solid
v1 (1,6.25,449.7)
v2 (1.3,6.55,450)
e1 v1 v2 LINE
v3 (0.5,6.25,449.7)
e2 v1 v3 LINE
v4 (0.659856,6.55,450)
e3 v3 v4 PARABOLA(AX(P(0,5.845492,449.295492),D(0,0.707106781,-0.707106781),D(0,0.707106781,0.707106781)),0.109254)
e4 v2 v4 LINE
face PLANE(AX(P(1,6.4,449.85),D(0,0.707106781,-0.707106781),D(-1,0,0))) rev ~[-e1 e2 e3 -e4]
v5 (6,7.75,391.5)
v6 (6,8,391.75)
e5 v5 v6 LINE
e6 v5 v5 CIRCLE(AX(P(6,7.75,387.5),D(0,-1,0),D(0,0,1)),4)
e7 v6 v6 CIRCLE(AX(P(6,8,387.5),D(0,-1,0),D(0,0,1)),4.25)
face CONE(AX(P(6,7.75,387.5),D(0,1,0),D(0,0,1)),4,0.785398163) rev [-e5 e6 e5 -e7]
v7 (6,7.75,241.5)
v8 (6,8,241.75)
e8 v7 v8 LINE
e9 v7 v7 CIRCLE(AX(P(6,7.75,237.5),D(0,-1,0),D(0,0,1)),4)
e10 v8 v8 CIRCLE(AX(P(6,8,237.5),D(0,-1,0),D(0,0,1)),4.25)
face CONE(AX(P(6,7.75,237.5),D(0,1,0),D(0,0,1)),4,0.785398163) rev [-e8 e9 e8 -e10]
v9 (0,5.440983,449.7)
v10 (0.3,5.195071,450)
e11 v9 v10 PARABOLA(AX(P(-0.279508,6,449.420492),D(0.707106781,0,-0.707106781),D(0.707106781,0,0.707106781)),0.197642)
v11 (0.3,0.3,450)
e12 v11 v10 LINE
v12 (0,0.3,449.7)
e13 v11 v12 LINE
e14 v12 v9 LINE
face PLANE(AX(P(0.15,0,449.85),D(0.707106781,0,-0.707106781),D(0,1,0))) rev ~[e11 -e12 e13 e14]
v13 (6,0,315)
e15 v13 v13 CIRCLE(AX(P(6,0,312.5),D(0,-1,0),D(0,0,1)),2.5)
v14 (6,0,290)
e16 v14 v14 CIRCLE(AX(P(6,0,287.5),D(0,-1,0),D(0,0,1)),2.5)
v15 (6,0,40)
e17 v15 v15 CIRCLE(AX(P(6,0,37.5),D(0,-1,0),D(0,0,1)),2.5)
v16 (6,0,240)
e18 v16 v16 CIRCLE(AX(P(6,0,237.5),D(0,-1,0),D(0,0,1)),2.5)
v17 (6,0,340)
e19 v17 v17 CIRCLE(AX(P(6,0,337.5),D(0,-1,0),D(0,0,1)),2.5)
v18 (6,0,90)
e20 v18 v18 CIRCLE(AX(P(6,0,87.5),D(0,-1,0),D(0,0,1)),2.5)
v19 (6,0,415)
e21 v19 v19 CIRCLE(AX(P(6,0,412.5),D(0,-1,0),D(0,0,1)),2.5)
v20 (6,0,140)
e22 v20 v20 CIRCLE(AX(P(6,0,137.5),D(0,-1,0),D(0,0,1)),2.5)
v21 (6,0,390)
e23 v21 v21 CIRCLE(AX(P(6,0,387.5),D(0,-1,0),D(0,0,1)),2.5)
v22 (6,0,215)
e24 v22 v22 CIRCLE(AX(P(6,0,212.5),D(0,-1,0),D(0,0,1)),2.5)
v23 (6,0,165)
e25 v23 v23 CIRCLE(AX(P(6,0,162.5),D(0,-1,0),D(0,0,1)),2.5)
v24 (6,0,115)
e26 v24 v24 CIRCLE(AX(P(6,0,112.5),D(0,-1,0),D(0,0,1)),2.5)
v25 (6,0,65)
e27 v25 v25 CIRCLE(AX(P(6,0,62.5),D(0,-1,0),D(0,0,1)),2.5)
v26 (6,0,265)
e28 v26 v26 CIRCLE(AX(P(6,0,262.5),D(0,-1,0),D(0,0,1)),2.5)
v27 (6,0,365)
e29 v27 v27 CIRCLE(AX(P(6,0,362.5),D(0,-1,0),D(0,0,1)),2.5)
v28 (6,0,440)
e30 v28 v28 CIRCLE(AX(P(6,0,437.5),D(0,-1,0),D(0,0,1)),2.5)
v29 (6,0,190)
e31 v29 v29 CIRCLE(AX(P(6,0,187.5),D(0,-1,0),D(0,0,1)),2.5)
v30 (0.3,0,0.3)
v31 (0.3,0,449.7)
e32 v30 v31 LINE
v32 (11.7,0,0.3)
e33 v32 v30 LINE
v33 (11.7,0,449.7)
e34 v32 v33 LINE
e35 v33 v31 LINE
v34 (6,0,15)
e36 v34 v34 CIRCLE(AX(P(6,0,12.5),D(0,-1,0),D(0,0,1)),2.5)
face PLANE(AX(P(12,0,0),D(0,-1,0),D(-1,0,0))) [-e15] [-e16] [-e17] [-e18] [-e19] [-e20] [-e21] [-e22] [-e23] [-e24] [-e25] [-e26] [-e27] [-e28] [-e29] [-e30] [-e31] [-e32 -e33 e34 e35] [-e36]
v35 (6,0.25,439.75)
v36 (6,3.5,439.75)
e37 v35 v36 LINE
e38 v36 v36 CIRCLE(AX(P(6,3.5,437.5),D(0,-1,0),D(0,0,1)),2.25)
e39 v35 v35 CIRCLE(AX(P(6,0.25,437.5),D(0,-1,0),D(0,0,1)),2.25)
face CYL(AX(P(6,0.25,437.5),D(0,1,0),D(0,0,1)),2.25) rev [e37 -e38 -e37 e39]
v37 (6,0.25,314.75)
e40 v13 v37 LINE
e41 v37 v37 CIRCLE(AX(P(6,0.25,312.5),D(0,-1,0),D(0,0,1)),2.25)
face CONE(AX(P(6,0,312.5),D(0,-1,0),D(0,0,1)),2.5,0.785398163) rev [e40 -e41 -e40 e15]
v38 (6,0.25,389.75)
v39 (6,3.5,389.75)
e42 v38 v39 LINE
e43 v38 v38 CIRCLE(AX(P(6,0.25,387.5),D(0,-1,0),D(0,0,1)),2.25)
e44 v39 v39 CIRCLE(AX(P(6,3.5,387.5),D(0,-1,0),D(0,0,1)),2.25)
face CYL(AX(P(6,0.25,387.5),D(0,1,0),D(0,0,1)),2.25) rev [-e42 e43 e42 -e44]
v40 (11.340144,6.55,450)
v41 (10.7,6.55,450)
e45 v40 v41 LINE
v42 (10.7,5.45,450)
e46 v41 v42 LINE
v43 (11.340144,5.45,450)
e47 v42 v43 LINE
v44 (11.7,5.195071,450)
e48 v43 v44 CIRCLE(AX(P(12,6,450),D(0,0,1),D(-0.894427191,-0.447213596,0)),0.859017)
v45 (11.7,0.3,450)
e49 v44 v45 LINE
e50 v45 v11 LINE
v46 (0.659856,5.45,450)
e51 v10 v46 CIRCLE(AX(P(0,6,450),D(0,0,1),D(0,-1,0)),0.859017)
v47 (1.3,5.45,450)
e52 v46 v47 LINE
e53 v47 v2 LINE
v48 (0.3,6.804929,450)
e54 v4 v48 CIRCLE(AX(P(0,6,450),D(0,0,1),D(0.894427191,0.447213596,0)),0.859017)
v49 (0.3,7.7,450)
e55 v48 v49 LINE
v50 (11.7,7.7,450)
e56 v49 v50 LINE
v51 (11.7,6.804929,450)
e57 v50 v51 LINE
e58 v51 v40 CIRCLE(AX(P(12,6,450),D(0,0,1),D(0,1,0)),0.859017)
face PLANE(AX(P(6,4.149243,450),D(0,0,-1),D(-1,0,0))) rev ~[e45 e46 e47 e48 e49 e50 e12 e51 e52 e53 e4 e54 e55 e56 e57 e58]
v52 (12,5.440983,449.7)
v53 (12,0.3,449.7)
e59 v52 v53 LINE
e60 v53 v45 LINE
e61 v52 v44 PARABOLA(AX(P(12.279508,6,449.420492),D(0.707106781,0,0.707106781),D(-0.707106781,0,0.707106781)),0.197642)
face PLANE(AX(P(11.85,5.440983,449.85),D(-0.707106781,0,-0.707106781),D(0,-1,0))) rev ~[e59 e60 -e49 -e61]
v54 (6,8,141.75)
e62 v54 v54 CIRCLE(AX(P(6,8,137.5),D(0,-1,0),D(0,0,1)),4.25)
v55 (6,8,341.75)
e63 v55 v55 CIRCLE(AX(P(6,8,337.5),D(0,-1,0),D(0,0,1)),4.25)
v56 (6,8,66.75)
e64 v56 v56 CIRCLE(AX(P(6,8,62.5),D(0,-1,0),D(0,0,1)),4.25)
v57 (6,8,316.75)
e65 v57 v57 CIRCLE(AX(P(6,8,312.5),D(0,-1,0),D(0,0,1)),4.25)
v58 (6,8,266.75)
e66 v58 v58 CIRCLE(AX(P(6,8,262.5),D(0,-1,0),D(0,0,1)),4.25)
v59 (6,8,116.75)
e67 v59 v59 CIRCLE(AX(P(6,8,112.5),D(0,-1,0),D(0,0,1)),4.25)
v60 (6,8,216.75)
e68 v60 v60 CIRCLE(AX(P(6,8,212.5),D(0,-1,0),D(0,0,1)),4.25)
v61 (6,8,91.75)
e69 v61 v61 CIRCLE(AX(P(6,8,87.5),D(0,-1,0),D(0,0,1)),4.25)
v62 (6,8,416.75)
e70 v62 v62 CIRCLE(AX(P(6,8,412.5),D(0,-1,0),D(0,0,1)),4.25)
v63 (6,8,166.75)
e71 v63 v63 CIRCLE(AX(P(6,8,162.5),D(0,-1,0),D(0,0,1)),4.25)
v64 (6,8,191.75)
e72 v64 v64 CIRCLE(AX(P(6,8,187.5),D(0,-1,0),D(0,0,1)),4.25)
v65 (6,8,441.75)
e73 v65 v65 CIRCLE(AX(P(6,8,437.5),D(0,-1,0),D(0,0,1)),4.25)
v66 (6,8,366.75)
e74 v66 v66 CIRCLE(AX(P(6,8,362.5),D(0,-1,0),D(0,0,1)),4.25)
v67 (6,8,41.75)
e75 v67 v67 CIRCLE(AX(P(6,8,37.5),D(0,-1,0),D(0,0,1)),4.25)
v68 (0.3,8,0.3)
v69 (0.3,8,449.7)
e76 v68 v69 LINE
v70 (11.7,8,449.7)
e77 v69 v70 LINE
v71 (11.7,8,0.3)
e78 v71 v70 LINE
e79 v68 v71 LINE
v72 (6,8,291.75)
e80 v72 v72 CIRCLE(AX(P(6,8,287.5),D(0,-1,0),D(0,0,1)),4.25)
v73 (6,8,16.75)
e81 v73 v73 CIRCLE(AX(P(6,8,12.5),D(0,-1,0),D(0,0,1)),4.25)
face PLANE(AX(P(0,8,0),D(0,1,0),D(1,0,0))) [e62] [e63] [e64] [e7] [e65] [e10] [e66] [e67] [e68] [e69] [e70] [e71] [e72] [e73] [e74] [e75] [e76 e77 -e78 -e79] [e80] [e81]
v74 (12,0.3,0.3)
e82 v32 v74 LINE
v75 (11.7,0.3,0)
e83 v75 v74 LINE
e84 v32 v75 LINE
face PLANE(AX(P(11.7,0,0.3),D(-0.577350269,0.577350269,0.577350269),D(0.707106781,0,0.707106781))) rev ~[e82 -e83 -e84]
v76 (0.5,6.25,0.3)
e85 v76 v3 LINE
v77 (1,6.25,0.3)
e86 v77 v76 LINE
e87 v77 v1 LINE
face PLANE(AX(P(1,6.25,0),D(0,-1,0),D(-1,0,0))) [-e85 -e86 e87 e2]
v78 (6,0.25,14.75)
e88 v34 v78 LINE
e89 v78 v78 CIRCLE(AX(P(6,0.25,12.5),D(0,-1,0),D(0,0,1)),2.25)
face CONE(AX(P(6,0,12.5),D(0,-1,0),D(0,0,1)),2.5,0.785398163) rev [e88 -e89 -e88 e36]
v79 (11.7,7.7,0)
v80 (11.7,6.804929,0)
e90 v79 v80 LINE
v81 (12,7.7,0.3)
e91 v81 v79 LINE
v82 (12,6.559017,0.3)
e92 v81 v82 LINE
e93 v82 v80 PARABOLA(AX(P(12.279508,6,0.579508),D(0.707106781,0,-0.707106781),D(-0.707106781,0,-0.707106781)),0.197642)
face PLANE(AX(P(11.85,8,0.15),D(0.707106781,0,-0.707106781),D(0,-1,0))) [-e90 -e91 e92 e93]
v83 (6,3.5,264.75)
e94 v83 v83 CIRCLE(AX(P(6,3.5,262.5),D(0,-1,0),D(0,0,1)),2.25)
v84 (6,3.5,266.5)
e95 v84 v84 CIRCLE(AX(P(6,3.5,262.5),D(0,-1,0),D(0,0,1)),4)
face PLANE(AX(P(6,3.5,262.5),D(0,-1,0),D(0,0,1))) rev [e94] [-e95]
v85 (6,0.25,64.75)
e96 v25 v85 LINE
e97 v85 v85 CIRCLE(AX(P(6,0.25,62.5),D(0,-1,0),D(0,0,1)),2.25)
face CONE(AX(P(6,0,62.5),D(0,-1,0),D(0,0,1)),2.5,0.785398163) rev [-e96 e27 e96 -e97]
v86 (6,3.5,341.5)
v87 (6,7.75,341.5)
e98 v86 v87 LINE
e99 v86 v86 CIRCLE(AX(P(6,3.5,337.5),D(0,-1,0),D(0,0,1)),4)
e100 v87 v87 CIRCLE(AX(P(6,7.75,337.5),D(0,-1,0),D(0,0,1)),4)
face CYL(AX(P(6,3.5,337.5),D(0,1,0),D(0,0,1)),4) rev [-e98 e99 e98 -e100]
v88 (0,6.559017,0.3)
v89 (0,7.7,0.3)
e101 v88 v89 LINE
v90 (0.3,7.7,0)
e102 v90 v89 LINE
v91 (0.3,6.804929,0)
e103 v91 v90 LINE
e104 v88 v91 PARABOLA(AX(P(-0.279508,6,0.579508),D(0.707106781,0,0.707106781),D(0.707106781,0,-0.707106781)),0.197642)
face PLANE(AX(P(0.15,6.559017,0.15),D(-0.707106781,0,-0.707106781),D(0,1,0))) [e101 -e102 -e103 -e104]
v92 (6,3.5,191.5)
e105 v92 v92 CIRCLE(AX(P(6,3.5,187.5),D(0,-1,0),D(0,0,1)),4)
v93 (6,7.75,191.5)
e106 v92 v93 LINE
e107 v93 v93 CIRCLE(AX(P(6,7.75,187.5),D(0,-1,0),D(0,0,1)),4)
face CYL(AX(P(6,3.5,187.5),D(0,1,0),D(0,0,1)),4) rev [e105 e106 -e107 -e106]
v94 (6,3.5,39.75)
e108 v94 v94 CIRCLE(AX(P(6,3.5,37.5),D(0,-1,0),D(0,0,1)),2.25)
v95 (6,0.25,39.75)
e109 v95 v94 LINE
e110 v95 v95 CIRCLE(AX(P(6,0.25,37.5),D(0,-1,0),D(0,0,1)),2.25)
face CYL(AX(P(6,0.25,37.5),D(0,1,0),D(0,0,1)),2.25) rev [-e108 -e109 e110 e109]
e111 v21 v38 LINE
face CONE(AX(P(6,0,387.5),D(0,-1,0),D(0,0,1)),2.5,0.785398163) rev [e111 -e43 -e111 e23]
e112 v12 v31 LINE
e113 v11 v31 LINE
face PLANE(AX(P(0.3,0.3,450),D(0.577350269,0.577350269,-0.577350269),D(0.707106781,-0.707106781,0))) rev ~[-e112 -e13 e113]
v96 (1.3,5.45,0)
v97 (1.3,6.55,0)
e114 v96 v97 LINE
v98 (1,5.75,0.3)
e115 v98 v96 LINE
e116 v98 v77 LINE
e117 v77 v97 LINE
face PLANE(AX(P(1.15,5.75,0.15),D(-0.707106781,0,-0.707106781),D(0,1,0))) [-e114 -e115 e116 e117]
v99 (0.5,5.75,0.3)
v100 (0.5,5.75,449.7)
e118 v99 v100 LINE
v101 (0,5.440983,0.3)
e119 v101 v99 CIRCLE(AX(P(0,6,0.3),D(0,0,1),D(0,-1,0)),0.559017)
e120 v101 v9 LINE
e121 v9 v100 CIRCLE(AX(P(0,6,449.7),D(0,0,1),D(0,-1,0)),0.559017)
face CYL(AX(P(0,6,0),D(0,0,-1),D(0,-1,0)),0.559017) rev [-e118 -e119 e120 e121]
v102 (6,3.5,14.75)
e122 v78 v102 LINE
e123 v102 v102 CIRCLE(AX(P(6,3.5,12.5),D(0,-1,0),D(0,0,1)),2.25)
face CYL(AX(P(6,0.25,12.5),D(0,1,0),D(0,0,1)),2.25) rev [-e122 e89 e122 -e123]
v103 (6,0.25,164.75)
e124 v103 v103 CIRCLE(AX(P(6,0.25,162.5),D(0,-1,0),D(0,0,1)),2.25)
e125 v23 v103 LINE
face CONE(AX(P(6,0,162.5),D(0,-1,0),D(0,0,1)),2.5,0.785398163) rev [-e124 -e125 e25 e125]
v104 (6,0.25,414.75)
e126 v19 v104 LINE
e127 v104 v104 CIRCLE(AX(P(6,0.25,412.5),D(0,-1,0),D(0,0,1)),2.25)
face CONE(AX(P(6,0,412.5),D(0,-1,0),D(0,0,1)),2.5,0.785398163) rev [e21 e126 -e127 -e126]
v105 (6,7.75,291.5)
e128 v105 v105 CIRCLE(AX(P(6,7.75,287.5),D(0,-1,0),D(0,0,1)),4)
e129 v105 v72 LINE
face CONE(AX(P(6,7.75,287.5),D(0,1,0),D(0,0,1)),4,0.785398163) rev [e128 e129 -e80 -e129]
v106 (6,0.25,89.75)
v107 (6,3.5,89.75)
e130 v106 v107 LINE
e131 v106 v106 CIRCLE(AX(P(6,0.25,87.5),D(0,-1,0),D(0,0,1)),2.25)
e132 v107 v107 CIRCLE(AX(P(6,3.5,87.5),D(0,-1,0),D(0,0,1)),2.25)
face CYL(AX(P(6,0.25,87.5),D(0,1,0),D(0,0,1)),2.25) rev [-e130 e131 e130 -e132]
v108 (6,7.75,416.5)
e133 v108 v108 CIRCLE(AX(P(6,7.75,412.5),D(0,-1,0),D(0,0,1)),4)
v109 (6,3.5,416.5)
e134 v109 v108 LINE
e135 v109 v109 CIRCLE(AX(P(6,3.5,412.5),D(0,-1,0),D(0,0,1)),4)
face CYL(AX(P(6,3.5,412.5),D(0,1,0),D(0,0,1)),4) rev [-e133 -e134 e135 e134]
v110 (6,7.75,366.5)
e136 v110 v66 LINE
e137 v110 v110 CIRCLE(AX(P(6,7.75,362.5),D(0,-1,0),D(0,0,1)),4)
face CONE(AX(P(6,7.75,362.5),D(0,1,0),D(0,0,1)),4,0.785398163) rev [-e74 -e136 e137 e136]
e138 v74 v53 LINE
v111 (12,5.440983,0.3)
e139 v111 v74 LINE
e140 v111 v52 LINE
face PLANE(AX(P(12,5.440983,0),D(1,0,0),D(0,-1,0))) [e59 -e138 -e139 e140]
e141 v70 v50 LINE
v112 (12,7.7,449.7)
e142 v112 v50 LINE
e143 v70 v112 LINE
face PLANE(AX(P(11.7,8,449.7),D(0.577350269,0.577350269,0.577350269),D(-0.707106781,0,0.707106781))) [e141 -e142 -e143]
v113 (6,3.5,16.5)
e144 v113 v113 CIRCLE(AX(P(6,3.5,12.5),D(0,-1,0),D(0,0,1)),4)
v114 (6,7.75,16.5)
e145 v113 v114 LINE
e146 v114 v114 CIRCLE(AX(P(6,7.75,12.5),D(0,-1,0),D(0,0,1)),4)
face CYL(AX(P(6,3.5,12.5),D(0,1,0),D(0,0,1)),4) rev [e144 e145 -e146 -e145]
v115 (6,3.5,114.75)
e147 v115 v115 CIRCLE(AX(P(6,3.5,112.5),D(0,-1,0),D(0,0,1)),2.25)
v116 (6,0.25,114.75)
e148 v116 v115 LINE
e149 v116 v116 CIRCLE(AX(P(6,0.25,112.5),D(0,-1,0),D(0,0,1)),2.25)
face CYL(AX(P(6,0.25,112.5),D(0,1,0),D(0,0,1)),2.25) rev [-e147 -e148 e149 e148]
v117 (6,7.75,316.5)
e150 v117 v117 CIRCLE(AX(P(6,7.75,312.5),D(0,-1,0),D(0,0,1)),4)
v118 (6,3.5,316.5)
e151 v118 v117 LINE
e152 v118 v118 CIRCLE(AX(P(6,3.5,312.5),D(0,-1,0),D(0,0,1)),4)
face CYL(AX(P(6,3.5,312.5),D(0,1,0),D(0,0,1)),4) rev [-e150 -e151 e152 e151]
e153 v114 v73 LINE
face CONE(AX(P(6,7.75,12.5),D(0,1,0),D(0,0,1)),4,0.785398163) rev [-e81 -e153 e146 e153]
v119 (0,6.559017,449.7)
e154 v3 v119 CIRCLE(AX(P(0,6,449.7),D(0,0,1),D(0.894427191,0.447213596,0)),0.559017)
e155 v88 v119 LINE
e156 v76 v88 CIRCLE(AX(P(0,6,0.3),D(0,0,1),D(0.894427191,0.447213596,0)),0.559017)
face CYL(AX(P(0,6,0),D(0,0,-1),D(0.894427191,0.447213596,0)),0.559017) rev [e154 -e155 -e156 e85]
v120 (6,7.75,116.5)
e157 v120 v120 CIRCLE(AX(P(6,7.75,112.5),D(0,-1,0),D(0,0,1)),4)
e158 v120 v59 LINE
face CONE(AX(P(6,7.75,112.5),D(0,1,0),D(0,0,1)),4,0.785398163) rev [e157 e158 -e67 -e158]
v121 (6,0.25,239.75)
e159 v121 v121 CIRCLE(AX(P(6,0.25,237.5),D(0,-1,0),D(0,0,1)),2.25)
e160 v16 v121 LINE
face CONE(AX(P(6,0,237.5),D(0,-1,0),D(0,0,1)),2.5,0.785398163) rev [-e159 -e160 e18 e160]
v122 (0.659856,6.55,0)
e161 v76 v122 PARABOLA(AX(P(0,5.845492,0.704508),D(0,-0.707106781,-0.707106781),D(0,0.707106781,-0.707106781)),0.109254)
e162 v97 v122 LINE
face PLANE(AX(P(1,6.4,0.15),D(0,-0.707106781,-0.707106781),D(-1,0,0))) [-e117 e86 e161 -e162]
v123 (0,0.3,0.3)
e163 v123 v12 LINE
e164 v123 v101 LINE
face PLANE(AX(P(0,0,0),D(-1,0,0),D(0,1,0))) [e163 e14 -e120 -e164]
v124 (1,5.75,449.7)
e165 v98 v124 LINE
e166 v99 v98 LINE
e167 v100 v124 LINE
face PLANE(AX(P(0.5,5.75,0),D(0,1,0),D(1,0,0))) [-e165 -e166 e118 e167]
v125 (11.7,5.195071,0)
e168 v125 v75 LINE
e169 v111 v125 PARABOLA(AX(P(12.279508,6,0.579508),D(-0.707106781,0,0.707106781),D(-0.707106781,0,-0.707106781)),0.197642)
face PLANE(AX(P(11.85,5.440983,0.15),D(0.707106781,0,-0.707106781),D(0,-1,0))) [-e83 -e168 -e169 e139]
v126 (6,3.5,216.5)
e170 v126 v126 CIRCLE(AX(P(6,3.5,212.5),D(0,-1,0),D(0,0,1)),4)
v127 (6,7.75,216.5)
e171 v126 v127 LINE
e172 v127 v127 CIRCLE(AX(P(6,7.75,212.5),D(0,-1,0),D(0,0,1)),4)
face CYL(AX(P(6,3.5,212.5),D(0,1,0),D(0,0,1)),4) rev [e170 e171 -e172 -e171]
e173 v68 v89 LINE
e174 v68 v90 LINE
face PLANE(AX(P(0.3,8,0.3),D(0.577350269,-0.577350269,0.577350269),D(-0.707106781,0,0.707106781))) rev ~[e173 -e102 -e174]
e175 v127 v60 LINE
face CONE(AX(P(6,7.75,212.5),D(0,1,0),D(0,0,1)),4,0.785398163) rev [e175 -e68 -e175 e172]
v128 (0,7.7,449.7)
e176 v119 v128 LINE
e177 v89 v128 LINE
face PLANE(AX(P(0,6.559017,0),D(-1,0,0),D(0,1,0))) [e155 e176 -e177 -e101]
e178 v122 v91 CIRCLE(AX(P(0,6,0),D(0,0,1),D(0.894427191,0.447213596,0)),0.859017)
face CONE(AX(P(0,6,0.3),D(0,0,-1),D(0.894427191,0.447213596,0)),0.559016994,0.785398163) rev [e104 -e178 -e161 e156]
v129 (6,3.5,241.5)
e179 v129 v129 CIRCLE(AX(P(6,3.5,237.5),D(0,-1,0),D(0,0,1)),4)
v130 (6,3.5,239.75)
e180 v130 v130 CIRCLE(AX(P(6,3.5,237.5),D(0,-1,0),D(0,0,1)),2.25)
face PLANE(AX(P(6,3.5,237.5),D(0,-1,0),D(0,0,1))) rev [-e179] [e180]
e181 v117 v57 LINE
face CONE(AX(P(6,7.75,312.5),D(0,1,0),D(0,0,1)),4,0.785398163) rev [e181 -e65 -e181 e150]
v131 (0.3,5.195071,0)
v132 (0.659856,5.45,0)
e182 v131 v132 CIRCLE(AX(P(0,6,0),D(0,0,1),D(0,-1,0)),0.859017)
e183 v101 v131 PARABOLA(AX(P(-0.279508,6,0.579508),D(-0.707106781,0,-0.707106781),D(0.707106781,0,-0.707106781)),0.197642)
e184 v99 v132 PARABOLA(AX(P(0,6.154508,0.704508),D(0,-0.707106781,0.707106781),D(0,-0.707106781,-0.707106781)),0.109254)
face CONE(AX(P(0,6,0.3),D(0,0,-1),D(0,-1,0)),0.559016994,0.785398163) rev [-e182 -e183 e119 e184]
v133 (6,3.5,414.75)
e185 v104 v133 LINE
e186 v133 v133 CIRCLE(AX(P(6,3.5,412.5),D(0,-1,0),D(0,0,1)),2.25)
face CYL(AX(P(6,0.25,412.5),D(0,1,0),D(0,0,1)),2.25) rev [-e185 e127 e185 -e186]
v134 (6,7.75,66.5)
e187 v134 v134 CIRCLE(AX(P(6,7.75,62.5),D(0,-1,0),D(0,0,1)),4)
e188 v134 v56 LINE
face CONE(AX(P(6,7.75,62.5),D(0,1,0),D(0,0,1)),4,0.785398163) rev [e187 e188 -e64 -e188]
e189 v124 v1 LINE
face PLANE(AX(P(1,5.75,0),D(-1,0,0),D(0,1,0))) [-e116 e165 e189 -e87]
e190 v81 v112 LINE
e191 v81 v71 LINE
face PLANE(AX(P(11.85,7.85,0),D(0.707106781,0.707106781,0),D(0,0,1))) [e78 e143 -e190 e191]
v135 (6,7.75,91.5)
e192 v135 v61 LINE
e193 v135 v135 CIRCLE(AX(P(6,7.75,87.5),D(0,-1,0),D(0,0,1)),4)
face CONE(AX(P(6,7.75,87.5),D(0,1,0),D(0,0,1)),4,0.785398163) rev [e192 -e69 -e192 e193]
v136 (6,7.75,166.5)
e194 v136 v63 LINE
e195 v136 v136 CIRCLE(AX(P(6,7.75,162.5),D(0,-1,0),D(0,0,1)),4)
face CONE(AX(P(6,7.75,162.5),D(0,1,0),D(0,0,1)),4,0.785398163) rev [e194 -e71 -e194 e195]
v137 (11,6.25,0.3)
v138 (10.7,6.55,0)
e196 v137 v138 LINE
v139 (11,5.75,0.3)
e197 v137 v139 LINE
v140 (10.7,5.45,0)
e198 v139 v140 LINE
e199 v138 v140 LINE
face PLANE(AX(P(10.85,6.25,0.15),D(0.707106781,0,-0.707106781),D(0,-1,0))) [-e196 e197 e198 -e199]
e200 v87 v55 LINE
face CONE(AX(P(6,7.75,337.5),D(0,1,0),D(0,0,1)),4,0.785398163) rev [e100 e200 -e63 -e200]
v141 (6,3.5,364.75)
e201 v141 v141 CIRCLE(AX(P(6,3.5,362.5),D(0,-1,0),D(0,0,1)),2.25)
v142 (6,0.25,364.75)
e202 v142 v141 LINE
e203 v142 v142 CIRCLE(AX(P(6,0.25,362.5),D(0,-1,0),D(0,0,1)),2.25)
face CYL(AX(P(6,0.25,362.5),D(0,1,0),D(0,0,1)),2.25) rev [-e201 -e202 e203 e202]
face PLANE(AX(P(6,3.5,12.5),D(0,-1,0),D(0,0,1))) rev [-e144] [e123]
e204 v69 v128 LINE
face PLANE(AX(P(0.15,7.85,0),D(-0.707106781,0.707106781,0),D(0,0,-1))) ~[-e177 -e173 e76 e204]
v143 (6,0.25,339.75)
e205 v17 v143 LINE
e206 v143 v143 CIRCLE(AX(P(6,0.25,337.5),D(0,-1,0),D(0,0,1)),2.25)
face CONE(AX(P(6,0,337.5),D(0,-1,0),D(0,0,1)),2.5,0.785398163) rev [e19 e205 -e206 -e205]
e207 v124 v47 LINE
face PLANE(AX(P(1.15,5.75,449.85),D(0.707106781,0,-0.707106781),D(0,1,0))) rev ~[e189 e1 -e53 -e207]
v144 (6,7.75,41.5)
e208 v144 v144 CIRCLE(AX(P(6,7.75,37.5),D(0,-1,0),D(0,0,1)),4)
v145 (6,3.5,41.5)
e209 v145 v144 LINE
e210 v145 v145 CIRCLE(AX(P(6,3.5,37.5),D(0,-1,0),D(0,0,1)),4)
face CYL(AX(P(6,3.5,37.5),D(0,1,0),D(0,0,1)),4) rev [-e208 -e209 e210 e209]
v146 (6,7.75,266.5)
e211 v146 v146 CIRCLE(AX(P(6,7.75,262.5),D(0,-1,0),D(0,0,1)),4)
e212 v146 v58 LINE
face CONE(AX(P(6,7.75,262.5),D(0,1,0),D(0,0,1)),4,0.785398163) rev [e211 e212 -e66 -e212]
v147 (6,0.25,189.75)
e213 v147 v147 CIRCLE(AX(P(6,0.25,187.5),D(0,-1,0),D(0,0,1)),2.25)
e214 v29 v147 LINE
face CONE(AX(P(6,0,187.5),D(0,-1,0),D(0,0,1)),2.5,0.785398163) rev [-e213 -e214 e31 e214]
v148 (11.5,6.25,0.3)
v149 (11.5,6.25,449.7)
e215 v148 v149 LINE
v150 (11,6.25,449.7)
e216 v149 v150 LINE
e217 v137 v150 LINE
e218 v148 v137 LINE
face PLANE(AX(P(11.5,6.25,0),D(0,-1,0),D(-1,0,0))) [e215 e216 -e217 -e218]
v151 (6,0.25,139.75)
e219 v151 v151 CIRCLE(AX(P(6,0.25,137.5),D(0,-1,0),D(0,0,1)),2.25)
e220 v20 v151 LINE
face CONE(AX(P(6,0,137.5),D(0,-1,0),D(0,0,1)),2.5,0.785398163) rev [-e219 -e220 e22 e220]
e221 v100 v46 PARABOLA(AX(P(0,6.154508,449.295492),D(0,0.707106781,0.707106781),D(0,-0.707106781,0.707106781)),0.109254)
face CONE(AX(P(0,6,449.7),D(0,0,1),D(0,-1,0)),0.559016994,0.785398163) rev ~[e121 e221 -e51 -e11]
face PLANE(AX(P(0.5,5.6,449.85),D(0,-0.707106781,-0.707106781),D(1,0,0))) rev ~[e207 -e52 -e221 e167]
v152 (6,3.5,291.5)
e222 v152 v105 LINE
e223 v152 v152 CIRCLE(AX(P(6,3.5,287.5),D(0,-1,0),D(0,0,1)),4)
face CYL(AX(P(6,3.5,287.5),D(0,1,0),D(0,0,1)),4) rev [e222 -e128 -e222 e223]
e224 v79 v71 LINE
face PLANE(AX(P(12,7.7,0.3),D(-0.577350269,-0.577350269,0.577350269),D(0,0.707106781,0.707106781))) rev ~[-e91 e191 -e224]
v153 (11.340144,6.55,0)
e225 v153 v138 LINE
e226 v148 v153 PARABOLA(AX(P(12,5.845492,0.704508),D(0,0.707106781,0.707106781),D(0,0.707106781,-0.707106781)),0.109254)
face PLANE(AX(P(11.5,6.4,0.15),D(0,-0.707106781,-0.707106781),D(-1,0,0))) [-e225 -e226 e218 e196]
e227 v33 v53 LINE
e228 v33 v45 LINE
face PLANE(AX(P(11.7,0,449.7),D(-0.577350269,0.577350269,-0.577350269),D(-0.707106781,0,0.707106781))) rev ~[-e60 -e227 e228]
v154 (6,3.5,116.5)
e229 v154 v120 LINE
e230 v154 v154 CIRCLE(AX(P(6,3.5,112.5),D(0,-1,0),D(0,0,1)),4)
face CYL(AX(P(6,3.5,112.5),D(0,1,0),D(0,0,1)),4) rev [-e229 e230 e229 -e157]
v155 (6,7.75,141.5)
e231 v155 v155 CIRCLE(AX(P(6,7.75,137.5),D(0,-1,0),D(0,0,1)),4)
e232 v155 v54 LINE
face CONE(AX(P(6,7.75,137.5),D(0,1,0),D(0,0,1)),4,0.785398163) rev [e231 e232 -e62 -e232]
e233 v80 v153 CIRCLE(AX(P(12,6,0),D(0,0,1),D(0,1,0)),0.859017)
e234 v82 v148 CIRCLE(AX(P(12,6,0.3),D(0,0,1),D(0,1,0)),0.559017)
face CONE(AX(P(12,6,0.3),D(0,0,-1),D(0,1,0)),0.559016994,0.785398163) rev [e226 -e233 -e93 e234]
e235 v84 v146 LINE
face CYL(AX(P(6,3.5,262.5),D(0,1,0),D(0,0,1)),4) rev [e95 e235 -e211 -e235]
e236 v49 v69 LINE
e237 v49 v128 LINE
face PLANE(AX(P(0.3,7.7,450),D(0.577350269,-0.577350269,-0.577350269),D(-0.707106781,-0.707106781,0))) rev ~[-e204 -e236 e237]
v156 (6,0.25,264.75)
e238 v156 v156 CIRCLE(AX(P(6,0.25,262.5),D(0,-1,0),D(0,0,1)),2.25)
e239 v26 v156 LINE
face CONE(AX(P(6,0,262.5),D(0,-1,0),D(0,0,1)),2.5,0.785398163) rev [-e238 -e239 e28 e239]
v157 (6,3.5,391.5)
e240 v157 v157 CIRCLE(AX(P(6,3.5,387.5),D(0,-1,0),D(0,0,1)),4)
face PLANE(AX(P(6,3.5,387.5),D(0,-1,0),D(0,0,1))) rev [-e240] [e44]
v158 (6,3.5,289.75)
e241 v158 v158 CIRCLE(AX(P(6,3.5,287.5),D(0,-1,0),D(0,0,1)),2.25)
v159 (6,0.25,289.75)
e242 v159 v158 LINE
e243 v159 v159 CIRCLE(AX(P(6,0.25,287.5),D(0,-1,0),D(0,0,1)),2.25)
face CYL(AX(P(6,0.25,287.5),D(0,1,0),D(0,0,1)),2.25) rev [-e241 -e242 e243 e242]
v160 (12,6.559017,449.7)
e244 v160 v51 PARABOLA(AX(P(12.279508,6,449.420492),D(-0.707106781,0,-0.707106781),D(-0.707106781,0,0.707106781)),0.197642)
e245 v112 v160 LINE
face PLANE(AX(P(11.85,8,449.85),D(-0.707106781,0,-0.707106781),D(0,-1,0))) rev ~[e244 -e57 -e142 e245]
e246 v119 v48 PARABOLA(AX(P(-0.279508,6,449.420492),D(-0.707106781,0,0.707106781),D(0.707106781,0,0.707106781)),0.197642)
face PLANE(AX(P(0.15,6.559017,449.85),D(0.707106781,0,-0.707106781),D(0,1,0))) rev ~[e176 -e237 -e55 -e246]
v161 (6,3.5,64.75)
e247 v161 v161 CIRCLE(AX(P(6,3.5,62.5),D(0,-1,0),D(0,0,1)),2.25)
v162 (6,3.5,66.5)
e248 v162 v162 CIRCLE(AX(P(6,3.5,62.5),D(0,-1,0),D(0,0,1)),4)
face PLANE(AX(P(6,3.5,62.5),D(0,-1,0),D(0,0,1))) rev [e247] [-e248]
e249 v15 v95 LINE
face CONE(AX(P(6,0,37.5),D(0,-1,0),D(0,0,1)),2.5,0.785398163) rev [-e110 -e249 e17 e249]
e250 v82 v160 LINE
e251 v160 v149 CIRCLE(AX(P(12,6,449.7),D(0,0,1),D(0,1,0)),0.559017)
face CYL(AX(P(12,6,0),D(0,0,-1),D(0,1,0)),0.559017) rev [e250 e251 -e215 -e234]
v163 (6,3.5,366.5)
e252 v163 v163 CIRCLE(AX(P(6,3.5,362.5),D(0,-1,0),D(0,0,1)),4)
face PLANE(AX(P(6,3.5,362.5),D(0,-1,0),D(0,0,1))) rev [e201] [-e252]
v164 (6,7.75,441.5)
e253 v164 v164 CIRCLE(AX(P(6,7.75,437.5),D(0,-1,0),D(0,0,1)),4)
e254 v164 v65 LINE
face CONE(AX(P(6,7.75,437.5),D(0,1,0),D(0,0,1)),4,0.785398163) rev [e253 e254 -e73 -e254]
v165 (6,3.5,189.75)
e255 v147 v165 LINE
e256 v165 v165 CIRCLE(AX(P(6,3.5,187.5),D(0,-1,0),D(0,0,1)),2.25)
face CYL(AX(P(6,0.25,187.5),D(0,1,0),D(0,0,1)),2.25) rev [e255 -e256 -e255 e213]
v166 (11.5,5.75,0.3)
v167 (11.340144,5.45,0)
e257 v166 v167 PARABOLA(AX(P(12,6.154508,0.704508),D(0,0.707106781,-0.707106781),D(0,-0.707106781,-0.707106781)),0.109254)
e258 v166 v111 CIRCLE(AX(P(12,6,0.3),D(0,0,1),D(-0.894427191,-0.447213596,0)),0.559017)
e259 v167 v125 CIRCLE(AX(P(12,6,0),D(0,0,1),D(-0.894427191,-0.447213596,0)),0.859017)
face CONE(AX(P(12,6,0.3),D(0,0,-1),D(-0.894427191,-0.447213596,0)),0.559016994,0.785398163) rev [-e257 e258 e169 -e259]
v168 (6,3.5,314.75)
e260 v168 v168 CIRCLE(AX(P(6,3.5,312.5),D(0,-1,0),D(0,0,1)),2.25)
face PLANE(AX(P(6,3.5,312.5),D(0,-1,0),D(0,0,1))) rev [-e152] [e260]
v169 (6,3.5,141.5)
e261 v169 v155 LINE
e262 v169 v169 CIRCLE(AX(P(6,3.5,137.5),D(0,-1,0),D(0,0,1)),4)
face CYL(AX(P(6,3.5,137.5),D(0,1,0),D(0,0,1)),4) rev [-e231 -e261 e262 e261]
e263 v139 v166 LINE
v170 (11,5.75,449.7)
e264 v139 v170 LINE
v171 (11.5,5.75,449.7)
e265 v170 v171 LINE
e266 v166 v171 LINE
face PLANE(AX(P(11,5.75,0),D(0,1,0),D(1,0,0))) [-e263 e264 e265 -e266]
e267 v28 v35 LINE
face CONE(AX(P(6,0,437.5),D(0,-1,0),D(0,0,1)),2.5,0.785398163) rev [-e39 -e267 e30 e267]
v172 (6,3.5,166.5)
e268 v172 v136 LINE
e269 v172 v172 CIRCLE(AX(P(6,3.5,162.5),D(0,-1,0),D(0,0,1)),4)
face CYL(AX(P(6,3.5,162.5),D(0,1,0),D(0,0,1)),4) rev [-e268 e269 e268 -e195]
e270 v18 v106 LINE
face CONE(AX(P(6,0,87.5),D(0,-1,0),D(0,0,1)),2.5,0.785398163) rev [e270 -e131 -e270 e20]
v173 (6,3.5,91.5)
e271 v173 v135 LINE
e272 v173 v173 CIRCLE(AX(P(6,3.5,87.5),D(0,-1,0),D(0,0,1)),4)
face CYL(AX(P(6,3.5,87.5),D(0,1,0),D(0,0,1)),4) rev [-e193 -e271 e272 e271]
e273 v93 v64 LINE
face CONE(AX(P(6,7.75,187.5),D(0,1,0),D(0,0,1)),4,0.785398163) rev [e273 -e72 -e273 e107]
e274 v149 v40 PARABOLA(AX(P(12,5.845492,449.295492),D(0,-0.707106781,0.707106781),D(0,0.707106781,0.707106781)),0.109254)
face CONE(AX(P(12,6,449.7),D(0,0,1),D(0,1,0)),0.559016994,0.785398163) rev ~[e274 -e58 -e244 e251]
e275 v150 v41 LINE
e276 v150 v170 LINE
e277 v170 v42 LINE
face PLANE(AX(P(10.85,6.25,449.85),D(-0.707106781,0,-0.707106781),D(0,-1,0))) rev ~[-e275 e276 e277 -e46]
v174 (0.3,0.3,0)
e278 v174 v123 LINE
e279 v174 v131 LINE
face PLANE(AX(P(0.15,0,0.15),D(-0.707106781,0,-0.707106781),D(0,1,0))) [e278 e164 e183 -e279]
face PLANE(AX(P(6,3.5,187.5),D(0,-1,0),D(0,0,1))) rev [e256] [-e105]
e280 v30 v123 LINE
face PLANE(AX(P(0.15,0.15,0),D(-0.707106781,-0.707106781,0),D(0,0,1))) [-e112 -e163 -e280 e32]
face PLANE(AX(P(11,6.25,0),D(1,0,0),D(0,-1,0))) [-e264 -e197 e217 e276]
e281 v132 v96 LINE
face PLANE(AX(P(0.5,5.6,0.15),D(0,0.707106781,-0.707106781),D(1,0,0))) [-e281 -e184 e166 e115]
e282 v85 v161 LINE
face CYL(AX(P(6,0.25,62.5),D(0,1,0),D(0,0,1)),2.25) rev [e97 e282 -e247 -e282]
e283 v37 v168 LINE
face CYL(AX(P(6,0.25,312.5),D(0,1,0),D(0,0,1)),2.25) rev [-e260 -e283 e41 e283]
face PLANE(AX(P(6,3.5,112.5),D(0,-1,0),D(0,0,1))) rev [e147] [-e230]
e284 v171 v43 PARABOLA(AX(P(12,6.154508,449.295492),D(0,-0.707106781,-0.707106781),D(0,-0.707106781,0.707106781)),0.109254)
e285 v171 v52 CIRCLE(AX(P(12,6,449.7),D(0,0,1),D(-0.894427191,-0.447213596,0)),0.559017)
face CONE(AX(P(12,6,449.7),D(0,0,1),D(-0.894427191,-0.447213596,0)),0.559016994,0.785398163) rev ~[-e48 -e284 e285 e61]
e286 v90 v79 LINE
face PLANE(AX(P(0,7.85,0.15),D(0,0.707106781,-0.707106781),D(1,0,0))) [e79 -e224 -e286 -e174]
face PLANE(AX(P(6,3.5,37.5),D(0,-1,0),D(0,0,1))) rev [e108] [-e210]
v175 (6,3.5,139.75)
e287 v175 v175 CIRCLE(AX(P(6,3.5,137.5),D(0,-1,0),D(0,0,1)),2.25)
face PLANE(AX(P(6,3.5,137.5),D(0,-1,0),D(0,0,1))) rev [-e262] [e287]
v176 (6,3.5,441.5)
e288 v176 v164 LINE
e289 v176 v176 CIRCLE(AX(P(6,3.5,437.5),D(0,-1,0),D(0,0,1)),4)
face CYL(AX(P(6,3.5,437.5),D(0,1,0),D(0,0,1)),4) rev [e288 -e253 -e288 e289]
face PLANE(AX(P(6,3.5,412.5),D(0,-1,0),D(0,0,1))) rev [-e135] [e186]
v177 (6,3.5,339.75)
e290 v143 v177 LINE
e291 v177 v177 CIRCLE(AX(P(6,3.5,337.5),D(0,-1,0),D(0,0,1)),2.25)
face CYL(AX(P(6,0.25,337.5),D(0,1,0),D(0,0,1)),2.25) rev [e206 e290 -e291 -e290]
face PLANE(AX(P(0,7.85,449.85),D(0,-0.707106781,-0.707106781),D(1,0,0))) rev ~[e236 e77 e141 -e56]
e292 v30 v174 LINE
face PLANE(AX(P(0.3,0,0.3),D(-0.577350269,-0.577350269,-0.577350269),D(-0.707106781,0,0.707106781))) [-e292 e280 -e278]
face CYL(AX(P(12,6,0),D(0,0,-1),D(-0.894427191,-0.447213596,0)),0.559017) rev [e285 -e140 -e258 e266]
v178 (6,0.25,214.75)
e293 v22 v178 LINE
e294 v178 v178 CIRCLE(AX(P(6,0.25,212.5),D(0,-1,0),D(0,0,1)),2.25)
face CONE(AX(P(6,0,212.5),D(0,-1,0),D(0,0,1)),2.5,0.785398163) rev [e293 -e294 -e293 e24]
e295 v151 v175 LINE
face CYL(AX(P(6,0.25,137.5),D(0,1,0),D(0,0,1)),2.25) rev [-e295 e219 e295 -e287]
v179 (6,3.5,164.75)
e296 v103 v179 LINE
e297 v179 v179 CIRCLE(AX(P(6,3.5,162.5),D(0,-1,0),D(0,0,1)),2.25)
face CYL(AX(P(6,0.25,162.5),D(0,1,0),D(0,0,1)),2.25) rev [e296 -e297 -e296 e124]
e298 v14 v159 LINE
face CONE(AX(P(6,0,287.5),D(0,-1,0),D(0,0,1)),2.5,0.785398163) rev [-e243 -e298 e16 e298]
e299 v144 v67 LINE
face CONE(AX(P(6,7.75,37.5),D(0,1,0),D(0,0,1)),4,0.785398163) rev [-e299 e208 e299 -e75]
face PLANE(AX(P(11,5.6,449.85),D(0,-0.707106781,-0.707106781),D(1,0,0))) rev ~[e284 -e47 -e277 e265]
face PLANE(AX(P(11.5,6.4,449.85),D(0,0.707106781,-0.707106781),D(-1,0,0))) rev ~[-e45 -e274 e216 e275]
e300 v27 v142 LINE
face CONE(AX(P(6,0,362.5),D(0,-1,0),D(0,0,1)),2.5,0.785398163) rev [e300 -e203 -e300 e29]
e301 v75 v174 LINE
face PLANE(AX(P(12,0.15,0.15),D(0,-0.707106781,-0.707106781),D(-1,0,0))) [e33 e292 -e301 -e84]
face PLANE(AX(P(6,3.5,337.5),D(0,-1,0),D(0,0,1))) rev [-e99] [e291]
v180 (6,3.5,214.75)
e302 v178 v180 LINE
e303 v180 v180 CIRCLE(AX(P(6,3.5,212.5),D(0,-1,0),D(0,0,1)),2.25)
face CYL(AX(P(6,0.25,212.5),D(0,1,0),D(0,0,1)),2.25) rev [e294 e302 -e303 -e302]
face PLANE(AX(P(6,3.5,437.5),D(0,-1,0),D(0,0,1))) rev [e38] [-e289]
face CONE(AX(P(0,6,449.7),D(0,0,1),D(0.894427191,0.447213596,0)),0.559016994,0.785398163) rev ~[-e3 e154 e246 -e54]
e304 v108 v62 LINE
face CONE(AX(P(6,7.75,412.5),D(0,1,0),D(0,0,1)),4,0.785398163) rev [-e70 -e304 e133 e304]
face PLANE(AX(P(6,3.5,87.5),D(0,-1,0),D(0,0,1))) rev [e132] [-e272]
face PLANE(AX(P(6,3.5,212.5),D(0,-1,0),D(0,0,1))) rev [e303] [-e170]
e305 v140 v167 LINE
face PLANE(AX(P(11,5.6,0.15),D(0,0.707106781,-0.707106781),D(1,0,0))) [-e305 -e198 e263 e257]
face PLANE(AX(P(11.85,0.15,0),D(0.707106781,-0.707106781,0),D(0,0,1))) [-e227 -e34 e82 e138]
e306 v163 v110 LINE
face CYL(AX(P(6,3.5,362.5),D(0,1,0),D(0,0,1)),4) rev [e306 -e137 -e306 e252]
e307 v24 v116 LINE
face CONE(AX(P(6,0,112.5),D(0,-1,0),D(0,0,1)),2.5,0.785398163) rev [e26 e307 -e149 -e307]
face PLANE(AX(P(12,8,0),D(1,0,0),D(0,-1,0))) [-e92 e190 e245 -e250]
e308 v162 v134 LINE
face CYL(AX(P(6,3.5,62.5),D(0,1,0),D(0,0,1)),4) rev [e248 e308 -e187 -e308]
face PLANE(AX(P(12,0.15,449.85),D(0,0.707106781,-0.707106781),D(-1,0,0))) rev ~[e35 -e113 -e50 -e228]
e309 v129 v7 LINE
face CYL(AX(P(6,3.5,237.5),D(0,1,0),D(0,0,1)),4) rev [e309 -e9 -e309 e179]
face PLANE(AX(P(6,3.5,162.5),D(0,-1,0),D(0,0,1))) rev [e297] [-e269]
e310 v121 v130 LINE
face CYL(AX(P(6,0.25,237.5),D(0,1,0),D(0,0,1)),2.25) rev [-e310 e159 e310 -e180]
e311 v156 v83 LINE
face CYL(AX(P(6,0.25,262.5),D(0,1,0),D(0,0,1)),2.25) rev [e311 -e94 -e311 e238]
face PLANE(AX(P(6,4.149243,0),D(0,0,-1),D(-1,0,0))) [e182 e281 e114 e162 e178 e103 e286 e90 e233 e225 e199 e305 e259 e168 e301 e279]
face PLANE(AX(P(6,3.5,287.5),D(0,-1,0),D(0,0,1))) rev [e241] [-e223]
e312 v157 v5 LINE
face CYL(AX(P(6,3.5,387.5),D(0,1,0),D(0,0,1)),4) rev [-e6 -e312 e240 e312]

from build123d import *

# Parameters (mm, degrees)
BOSS_EXTRUDE1_DEPTH = 450
CHAMFER1_SIZE       = 0.3
LPATTERN1_COUNT     = 18
LPATTERN1_PITCH     = 25


with BuildPart() as part:
    # Sketch1 → Boss-Extrude1 (new body)
    with BuildSketch(Plane.XY):
        with BuildLine():
            Line((0, 8), (12, 8))
            Line((12, 8), (12, 6.75))
            Line((12, 6.75), (12, 6.559016994))
            ThreePointArc((12, 6.559016994), (11.706107374, 6.475528258), (11.5, 6.25))
            Line((11.5, 6.25), (11, 6.25))
            Line((11, 6.25), (11, 5.75))
            Line((11, 5.75), (11.5, 5.75))
            ThreePointArc((11.5, 5.75), (11.706107374, 5.524471742), (12, 5.440983006))
            Line((12, 5.440983006), (12, 5.25))
            Line((12, 5.25), (12, 0))
            Line((12, 0), (0, 0))
            Line((0, 0), (0, 5.25))
            Line((0, 5.25), (0, 5.440983006))
            ThreePointArc((0, 5.440983006), (0.293892626, 5.524471742), (0.5, 5.75))
            Line((0.5, 5.75), (1, 5.75))
            Line((1, 5.75), (1, 6.25))
            Line((1, 6.25), (0.5, 6.25))
            ThreePointArc((0.5, 6.25), (0.293892626, 6.475528258), (0, 6.559016994))
            Line((0, 6.559016994), (0, 6.75))
            Line((0, 6.75), (0, 8))
        make_face()
    extrude(amount=BOSS_EXTRUDE1_DEPTH)

    # Chamfer1
    chamfer1_edges = [part.edges().sort_by_distance(p)[0] for p in [
        (12, 2.720491503, 450),
        (11.706107374, 5.524471742, 450),
        (0, 2.720491503, 0),
        (0.293892626, 5.524471742, 0),
        (0.75, 5.75, 0),
        (1, 6, 0),
        (0.75, 6.25, 0),
        (11.25, 5.75, 450),
        (0.293892626, 6.475528258, 0),
        (0, 7.279508497, 0),
        (6, 8, 0),
        (12, 7.279508497, 0),
        (11.706107374, 6.475528258, 0),
        (11, 6, 450),
        (11.25, 6.25, 0),
        (11, 6, 0),
        (11.25, 5.75, 0),
        (11.706107374, 5.524471742, 0),
        (12, 2.720491503, 0),
        (6, 0, 0),
        (11.25, 6.25, 450),
        (11.706107374, 6.475528258, 450),
        (12, 7.279508497, 450),
        (0, 8, 225),
        (12, 8, 225),
        (12, 0, 225),
        (0, 0, 225),
        (6, 8, 450),
        (0, 2.720491503, 450),
        (0, 7.279508497, 450),
        (0.293892626, 6.475528258, 450),
        (0.75, 6.25, 450),
        (1, 6, 450),
        (0.75, 5.75, 450),
        (0.293892626, 5.524471742, 450),
        (6, 0, 450),
    ]]
    chamfer(chamfer1_edges, length=CHAMFER1_SIZE)

    # Sketch3 → CBORE for M5 Hex Head Bolt1 (revolve, cut)
    with BuildSketch(Plane(origin=(6, 8, 12.5), x_dir=(0, 0, 1), z_dir=(1, 0, 0))):
        Polygon((0, 0), (0, 8), (2.5, 8), (2.25, 7.75), (2.25, 4.5), (4, 4.5), (4, 0.25), (4.25, 0), align=None)
    cbore_for_m5_hex_head_bolt1 = revolve(axis=Axis((6, 14.35, 12.5), (0, -1, 0)), mode=Mode.SUBTRACT)

    # LPattern1: CBORE for M5 Hex Head Bolt1 ×18
    with Locations(*[(0, 0, i * LPATTERN1_PITCH) for i in range(1, LPATTERN1_COUNT)]):
        add(cbore_for_m5_hex_head_bolt1, mode=Mode.SUBTRACT)


solid = part.part
